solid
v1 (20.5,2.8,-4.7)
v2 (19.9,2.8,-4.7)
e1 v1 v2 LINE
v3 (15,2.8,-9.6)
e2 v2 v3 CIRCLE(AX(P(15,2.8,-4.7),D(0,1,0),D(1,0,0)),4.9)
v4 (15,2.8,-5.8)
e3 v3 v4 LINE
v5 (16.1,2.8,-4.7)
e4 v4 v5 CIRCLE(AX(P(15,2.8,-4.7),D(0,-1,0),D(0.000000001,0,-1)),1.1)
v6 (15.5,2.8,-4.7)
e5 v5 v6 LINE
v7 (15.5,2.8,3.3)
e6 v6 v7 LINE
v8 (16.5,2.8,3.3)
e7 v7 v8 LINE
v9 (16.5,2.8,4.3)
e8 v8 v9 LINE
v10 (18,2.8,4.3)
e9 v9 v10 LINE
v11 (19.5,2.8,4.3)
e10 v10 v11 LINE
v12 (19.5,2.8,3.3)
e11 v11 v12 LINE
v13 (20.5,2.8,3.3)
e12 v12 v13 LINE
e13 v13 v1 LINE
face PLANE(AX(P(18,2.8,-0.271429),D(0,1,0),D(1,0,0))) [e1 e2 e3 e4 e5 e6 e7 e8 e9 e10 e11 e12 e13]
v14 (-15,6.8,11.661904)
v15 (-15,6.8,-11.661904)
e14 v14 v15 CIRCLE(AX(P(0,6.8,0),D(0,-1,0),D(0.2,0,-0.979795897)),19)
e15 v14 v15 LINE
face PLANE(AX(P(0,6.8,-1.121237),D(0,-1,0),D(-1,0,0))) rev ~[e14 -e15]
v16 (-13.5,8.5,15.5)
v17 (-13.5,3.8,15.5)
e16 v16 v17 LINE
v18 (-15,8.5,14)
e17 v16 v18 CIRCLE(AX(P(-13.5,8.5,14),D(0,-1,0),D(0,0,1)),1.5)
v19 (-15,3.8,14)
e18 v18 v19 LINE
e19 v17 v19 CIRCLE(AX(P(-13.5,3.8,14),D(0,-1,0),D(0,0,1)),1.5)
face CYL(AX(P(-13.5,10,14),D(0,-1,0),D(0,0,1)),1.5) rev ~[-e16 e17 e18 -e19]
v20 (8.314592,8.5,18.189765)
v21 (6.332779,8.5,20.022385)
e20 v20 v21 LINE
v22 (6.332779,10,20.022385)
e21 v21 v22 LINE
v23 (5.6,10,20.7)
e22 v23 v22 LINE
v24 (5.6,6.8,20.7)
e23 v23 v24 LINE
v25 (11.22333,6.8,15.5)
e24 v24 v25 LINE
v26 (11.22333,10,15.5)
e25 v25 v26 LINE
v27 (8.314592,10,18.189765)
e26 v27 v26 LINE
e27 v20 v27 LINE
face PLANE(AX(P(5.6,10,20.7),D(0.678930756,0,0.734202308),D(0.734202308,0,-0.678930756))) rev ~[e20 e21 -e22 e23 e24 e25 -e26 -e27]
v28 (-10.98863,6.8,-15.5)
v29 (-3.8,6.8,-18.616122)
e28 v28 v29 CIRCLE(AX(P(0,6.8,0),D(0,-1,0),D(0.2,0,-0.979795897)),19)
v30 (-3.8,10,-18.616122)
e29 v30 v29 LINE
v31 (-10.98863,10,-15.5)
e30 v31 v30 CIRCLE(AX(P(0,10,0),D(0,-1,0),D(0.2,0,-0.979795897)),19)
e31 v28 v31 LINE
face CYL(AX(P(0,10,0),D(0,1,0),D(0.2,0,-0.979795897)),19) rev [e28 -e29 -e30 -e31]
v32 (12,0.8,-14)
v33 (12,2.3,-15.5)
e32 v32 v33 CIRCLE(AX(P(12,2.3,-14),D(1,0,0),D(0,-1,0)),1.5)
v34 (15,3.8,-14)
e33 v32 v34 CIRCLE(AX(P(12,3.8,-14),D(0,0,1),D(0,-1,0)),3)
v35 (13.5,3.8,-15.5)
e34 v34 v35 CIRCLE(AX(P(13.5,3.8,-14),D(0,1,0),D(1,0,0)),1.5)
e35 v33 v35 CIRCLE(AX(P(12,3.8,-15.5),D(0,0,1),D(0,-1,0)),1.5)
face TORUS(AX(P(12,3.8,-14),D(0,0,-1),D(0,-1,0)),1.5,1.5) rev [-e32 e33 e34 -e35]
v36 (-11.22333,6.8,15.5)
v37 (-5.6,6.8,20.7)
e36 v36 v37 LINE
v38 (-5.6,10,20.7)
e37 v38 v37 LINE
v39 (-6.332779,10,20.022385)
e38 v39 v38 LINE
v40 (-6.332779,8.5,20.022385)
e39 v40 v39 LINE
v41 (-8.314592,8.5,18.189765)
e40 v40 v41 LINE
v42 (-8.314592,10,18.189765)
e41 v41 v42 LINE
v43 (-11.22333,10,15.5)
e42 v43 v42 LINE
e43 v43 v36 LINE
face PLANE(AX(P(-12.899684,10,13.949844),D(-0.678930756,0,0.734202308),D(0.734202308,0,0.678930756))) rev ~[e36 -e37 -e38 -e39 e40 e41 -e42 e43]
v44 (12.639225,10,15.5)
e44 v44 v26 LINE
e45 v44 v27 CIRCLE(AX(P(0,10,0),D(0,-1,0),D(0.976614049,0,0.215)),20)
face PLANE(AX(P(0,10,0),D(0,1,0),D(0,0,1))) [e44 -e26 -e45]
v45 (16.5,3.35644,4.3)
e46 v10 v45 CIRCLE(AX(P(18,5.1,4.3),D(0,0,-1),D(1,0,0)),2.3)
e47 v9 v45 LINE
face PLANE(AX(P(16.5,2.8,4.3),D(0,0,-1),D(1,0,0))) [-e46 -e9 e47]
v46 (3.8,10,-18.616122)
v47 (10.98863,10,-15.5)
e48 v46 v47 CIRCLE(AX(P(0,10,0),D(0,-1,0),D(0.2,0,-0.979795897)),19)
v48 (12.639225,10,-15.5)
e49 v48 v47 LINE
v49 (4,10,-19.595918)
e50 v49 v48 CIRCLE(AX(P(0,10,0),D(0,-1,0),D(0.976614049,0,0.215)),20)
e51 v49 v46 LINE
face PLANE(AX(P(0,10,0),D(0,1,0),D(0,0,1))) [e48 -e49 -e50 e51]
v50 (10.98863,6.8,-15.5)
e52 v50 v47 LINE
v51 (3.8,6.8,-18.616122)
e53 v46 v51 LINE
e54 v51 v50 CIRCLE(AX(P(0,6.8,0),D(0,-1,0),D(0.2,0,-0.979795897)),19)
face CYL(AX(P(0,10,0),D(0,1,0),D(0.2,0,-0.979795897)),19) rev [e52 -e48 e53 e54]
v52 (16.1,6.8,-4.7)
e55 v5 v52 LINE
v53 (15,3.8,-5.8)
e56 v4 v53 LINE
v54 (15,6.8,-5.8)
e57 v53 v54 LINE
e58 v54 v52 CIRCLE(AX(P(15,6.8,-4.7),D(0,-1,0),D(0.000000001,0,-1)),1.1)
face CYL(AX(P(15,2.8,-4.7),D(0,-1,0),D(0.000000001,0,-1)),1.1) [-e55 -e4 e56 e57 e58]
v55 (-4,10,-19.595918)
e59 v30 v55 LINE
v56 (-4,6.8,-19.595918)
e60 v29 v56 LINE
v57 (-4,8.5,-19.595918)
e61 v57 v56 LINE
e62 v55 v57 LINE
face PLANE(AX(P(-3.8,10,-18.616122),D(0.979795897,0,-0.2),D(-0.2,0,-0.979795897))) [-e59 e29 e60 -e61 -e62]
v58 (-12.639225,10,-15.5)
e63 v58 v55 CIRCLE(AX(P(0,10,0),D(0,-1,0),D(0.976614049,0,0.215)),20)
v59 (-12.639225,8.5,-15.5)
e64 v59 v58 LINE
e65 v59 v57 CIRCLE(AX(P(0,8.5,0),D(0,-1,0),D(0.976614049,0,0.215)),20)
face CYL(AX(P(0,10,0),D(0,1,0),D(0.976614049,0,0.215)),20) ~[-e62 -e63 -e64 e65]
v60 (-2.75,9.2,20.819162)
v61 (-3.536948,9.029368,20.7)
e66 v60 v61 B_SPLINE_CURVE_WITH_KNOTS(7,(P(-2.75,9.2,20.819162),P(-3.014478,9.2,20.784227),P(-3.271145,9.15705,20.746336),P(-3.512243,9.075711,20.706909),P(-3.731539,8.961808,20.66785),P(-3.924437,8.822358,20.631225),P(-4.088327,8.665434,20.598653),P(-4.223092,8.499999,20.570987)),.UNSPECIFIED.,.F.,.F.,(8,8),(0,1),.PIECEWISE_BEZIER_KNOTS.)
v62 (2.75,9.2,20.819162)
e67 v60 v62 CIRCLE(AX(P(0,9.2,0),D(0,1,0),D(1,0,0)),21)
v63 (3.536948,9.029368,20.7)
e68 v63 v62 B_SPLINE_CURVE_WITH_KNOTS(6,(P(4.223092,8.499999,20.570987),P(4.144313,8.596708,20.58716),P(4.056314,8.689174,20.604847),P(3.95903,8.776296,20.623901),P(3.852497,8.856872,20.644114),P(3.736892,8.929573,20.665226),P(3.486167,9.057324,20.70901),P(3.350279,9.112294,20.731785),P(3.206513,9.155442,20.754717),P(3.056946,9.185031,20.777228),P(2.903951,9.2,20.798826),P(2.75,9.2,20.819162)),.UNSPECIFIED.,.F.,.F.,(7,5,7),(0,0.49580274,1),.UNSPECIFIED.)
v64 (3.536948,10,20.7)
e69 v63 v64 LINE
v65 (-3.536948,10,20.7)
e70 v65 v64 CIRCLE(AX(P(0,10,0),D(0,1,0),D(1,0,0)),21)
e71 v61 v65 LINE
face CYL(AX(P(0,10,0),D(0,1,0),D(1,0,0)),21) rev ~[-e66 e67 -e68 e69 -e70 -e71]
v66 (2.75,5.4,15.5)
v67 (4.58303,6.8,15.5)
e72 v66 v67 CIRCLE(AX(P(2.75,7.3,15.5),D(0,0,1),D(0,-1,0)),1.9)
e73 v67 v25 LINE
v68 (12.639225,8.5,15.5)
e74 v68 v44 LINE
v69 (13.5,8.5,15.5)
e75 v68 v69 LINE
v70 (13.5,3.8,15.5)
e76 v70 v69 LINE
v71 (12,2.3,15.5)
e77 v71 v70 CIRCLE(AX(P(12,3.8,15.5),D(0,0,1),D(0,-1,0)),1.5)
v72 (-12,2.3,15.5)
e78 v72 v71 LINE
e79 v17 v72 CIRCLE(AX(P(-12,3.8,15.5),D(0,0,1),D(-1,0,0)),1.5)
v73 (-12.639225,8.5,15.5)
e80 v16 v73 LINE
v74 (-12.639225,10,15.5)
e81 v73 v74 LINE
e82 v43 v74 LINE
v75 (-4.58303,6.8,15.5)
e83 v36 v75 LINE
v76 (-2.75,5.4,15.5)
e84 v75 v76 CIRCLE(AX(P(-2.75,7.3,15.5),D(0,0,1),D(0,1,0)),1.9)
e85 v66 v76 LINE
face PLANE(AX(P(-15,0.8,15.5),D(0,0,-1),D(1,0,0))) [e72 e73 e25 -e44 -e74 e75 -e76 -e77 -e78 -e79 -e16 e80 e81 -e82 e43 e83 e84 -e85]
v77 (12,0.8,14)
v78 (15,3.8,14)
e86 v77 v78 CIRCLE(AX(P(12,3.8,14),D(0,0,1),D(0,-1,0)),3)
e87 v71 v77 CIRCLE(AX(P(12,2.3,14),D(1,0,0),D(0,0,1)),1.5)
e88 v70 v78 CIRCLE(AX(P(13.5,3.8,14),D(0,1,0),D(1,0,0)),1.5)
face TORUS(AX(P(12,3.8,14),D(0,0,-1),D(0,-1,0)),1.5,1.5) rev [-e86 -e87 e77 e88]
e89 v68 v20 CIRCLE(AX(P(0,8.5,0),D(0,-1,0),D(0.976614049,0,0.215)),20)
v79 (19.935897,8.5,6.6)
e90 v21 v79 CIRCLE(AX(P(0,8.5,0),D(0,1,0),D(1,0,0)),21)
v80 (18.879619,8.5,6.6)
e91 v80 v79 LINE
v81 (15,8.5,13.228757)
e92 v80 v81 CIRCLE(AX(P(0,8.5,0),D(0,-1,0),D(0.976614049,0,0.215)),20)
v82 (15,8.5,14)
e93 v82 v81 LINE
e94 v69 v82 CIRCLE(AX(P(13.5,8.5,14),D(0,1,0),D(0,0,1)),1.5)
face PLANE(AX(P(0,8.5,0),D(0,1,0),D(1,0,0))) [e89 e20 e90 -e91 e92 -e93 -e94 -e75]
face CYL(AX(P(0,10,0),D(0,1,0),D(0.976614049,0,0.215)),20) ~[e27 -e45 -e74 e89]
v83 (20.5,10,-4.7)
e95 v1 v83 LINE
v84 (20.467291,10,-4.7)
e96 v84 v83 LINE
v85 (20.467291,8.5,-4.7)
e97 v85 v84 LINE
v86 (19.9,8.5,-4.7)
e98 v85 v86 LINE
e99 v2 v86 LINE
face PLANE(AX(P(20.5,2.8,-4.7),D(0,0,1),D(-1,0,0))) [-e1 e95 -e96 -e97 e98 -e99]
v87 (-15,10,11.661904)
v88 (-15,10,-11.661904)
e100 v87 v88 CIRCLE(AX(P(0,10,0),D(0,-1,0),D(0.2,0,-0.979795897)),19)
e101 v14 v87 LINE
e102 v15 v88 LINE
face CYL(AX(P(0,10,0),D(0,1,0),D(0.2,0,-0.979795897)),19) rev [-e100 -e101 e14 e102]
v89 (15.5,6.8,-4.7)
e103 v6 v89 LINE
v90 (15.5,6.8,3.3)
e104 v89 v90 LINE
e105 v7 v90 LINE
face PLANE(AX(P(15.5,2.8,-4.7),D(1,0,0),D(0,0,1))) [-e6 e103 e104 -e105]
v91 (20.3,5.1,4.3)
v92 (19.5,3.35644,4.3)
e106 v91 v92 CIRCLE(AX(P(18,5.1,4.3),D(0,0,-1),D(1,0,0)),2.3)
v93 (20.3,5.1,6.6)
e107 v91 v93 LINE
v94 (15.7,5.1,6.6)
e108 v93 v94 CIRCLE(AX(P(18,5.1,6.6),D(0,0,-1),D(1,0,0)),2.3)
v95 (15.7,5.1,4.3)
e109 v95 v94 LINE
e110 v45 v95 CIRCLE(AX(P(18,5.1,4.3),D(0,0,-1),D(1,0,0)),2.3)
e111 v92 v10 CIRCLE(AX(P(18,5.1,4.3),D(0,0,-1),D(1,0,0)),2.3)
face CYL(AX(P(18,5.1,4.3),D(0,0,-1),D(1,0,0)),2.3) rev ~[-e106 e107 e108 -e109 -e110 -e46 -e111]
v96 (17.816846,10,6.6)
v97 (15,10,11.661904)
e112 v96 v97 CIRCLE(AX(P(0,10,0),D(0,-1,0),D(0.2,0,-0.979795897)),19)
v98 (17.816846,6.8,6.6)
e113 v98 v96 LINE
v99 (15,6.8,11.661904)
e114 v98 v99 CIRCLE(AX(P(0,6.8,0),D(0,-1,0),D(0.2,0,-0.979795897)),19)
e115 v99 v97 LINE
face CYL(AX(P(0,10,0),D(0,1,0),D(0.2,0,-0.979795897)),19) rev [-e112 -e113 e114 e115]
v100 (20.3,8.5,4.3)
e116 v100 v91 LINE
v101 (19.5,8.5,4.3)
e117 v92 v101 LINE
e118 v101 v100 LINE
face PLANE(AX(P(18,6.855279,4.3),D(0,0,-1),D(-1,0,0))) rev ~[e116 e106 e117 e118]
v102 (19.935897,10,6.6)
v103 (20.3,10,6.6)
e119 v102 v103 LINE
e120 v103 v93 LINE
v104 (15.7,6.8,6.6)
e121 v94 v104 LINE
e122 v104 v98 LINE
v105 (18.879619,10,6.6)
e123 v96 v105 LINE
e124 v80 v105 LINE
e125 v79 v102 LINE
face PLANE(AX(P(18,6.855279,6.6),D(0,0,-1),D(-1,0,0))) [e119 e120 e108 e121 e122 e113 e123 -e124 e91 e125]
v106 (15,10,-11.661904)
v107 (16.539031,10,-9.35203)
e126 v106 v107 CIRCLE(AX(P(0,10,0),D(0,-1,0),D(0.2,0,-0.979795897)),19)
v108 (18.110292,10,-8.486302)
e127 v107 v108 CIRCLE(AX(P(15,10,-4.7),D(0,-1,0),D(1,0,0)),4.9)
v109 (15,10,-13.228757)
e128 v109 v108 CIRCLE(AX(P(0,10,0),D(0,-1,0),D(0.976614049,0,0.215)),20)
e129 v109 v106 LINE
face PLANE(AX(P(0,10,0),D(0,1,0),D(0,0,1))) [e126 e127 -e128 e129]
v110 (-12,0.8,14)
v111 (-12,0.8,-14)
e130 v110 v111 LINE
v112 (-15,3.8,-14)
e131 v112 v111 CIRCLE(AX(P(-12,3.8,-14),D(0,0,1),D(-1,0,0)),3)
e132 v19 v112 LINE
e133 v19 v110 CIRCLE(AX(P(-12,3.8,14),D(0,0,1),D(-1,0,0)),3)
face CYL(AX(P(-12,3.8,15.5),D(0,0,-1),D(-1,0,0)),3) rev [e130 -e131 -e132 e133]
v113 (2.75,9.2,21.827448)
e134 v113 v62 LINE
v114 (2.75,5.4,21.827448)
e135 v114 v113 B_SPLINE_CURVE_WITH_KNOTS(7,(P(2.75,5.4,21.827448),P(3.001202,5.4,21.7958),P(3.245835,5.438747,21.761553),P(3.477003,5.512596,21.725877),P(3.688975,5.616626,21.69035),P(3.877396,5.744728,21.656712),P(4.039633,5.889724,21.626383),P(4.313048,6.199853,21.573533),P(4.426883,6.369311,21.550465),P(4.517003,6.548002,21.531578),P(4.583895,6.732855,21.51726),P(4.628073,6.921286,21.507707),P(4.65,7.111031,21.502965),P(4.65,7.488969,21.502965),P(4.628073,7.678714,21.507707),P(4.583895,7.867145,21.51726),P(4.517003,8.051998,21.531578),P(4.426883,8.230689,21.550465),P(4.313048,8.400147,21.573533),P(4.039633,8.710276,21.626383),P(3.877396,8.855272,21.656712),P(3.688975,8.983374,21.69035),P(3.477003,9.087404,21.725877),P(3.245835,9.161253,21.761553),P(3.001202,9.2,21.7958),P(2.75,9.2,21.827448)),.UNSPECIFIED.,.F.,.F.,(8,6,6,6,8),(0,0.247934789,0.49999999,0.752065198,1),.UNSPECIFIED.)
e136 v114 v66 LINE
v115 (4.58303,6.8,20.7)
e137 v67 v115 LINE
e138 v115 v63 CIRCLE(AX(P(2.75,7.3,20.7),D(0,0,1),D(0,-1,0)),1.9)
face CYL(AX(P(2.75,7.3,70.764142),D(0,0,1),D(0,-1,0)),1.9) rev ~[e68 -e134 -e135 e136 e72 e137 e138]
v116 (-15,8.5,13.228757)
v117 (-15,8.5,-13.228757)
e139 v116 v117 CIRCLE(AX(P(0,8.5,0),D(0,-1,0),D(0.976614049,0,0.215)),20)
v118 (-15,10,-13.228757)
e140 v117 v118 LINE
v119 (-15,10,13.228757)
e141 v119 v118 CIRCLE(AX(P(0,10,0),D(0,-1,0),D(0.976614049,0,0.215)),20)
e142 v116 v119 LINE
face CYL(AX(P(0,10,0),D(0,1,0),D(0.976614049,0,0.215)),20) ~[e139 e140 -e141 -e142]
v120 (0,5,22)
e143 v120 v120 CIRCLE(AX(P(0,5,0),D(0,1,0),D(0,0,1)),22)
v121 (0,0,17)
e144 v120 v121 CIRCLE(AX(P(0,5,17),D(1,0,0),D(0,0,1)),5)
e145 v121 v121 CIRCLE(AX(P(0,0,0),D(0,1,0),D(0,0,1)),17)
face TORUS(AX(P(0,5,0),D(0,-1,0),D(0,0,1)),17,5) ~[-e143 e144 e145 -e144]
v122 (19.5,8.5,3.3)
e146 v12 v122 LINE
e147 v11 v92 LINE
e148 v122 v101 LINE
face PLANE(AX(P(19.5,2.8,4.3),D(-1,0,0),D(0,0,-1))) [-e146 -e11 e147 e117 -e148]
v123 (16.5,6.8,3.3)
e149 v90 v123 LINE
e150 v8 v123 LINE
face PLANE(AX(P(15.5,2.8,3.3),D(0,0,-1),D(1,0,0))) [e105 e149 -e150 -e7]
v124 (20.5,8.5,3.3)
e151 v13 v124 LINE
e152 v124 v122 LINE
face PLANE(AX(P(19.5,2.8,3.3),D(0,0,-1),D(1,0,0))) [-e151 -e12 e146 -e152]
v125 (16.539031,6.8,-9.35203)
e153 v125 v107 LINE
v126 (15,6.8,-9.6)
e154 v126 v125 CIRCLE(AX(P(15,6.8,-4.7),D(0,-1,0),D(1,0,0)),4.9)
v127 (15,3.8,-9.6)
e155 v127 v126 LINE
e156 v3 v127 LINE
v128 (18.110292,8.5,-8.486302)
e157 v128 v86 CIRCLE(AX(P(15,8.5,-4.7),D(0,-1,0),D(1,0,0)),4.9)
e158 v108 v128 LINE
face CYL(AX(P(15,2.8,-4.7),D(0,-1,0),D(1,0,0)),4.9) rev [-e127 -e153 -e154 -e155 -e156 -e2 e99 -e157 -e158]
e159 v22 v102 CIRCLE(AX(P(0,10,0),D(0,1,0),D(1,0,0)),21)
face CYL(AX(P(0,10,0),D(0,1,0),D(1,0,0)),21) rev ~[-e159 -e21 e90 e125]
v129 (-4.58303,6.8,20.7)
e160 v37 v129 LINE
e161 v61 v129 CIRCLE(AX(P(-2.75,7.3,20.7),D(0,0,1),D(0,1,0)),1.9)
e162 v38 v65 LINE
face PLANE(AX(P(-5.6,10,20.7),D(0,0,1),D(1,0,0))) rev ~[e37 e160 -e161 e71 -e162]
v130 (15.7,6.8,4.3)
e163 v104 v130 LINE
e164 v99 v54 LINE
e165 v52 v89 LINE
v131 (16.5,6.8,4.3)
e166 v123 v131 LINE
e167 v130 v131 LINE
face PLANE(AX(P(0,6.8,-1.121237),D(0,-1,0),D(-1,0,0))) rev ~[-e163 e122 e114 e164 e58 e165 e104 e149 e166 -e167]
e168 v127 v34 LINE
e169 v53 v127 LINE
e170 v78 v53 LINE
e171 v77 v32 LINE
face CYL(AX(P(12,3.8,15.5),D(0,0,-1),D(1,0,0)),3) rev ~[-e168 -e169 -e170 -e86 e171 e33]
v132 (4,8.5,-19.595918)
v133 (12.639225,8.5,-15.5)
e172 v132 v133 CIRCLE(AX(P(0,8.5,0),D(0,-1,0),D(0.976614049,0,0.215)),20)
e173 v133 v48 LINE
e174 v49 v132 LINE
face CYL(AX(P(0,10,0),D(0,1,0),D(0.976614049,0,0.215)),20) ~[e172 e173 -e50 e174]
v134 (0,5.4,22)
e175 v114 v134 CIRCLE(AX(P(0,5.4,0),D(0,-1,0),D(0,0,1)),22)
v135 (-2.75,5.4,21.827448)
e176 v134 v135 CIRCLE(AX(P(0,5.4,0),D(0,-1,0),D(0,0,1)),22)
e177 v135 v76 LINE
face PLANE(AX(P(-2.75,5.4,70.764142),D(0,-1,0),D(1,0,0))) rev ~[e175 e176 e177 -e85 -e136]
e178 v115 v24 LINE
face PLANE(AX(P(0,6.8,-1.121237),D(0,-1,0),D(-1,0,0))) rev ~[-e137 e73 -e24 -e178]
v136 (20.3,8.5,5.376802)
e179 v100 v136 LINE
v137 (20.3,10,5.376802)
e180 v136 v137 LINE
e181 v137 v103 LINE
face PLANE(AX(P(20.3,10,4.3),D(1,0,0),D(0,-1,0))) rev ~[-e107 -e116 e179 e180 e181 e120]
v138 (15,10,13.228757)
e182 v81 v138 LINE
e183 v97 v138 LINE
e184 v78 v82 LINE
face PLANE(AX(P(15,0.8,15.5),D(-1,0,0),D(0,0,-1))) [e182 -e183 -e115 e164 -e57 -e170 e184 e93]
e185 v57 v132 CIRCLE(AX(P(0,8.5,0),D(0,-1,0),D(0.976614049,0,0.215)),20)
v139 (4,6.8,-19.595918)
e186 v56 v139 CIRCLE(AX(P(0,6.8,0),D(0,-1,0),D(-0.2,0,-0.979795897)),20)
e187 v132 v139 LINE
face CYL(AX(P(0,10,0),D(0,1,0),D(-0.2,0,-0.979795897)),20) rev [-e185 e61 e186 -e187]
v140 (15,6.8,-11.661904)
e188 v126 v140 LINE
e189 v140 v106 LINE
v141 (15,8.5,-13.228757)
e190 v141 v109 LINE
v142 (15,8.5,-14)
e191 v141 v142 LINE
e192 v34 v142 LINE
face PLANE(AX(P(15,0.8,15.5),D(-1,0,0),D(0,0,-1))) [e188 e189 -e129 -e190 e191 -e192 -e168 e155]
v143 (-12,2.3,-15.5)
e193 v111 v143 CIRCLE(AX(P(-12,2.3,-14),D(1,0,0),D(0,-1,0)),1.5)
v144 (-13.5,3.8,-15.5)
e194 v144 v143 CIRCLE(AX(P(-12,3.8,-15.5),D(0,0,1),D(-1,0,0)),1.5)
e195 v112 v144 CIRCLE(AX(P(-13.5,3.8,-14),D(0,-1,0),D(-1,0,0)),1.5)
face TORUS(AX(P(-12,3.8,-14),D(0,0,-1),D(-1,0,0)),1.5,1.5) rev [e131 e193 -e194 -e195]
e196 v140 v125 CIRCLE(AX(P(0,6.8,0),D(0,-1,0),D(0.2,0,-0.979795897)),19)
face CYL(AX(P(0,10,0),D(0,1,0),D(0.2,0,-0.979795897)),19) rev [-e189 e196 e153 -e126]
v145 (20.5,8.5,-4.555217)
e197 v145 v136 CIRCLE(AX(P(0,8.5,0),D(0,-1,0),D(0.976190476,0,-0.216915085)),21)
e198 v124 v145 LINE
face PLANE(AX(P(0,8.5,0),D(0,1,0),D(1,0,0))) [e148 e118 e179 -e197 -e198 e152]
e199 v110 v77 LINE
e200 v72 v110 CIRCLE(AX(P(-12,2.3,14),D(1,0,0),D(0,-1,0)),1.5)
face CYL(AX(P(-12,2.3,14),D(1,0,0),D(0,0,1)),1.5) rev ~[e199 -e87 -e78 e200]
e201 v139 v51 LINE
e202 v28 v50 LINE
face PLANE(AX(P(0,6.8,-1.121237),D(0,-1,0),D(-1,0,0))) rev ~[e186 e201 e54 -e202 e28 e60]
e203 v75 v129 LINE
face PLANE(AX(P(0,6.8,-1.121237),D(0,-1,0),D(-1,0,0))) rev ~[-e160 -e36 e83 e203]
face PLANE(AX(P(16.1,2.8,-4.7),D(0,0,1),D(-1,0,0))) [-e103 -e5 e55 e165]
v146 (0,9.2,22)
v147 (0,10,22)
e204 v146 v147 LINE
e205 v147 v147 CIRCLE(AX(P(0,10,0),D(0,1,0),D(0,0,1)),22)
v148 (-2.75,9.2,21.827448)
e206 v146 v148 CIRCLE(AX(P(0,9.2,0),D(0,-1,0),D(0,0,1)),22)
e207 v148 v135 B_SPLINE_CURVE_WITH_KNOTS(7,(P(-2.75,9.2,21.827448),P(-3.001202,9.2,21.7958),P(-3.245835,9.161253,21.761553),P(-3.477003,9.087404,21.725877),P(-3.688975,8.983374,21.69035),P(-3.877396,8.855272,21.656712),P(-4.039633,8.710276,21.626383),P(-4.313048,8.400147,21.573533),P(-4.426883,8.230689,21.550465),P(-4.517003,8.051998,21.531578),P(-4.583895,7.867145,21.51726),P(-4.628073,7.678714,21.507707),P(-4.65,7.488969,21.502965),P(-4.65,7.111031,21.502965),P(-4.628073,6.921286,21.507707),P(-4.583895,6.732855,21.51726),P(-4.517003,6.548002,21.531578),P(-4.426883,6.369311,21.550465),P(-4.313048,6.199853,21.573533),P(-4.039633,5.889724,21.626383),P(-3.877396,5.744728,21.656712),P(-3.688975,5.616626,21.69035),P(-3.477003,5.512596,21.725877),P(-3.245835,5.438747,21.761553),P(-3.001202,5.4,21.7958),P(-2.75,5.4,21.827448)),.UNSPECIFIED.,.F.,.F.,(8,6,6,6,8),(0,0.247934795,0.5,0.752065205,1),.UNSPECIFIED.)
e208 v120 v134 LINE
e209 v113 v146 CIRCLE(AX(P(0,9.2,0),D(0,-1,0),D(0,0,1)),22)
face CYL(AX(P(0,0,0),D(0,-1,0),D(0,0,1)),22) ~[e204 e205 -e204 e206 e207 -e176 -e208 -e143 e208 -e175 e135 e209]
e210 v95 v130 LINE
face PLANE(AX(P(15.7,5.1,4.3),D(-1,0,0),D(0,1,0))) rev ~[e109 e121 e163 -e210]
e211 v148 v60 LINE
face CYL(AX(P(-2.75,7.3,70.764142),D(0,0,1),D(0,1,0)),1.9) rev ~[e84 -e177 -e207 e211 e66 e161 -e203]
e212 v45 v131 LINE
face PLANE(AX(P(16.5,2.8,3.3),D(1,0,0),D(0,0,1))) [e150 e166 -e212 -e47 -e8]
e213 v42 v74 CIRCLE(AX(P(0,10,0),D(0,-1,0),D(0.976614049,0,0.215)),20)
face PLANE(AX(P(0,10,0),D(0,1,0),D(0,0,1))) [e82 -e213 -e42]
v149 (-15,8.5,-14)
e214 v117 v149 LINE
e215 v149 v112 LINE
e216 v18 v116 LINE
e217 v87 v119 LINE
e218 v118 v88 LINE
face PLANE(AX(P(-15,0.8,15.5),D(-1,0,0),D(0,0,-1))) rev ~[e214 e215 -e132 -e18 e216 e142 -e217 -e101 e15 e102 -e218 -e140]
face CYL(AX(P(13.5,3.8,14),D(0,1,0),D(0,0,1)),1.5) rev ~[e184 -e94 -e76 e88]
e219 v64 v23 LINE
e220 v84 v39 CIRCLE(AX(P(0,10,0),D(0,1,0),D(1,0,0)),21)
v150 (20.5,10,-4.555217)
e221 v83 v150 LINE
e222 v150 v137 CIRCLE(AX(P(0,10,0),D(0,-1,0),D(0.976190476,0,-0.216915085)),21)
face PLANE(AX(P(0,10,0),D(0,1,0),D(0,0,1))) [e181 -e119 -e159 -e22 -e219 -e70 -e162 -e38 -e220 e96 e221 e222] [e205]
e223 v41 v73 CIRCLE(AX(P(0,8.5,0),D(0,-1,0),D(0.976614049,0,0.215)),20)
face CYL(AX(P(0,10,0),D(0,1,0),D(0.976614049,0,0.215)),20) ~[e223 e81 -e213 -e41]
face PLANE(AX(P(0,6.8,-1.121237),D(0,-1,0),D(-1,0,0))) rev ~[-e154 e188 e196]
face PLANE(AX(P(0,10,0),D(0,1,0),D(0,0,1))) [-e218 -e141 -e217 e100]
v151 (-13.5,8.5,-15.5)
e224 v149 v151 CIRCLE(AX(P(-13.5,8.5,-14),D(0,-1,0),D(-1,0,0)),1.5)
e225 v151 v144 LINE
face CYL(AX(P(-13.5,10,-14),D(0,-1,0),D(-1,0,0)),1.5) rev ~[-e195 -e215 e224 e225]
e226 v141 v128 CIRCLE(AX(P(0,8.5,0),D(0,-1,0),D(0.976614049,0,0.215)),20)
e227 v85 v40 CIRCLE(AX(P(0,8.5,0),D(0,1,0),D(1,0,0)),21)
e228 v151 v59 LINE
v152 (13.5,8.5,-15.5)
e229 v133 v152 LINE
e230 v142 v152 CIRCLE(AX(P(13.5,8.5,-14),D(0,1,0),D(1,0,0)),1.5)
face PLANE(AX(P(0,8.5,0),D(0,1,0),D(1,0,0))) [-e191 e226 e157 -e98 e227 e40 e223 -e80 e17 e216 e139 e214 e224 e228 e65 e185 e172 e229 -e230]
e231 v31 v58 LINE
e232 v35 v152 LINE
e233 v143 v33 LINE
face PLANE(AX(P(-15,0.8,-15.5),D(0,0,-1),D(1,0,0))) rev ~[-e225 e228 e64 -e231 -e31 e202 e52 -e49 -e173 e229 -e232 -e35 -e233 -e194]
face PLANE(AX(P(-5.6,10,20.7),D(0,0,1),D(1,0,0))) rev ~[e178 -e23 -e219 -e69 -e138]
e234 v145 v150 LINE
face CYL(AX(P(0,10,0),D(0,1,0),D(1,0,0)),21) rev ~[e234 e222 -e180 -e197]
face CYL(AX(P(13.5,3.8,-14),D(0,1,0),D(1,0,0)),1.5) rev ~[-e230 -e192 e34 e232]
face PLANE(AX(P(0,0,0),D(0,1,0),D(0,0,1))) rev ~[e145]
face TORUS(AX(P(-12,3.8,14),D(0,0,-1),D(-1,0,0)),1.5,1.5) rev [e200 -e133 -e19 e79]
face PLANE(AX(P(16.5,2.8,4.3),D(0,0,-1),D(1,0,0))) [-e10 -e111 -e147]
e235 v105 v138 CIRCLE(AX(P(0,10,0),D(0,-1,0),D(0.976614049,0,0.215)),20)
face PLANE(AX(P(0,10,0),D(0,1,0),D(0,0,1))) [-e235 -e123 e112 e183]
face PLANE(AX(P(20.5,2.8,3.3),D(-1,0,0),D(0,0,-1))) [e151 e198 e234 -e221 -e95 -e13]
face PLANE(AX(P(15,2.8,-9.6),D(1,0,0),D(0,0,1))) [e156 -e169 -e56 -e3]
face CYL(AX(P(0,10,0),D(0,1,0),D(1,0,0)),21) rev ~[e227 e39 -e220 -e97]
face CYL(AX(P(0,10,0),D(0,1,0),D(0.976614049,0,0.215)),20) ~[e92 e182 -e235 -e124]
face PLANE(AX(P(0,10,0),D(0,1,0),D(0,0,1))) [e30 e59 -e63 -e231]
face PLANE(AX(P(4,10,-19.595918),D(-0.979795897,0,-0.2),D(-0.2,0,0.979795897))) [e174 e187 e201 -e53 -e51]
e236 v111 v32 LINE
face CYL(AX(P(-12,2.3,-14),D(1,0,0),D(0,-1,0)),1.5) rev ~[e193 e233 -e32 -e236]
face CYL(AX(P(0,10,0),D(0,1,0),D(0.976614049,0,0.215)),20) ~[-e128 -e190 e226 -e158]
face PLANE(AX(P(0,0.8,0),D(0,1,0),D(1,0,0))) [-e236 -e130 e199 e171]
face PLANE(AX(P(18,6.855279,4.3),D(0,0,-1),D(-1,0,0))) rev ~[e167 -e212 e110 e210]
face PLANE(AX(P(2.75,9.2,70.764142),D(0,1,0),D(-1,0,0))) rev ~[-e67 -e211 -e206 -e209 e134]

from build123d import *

# Parameters (mm, degrees)
SKETCH1_R               = 22
BOSS_EXTRUDE1_DEPTH     = 10
CUT_EXTRUDE1_DEPTH      = 3.2
CUT_EXTRUDE2_DEPTH      = 32.847134879
CUT_EXTRUDE2_DEPTH_BACK = 6
SKETCH3_W               = 30
SKETCH3_H               = 31
CUT_EXTRUDE3_DEPTH      = 6
CUT_EXTRUDE3_DEPTH_BACK = 50.064141692
FILLET1_R               = 3
FILLET2_R               = 1.5
FILLET3_R               = 5
CUT_EXTRUDE4_DEPTH      = 32.847135017
CUT_EXTRUDE4_DEPTH_BACK = 4
CUT_EXTRUDE6_DEPTH      = 2.3
SKETCH10_R              = 21
CUT_EXTRUDE5_DEPTH      = 1.5


with BuildPart() as part:
    # Sketch1 → Boss-Extrude1 (new body)
    with BuildSketch(Plane(origin=(0, 0, 0), x_dir=(1, 0, 0), z_dir=(0, 1, 0))):
        with Locations(Location((0, 0, 0), (0, 0, 270))):
            Circle(SKETCH1_R)
    extrude(amount=BOSS_EXTRUDE1_DEPTH)

    # Sketch2 → Cut-Extrude1 (cut)
    with BuildSketch(Plane(origin=(0, 10, 0), x_dir=(1, 0, 0), z_dir=(0, 1, 0))):
        with BuildLine():
            Line((4, 19.595917942), (3.8, 18.616122045))
            ThreePointArc((3.8, 18.616122045), (0, -19), (-3.8, 18.616122045))
            Line((-3.8, 18.616122045), (-4, 19.595917942))
            ThreePointArc((-4, 19.595917942), (0, 20), (4, 19.595917942))
        make_face()
        with BuildLine():
            ThreePointArc((12.899684367, -13.949843843), (0, -19), (-12.899684367, -13.949843843))
            Line((-12.899684367, -13.949843843), (-5.6, -20.7))
            Line((-5.6, -20.7), (5.6, -20.7))
            Line((5.6, -20.7), (12.899684367, -13.949843843))
        make_face()
    extrude(amount=-CUT_EXTRUDE1_DEPTH, mode=Mode.SUBTRACT)

    # Sketch3 → Cut-Extrude2 (cut, two sides: drawn at the far end of the back side and taken through both)
    with BuildSketch(Plane(origin=(0, 6.8, 0), x_dir=(1, 0, 0), z_dir=(0, 1, 0)).offset(-CUT_EXTRUDE2_DEPTH_BACK)):
        Rectangle(SKETCH3_W, SKETCH3_H)
    extrude(amount=CUT_EXTRUDE2_DEPTH + CUT_EXTRUDE2_DEPTH_BACK, mode=Mode.SUBTRACT)

    # Sketch5 → Cut-Extrude3 (cut, two sides: drawn at the far end of the back side and taken through both)
    with BuildSketch(Plane(origin=(0, 0, 20.7), x_dir=(-1, 0, 0), z_dir=(0, 0, -1)).offset(-CUT_EXTRUDE3_DEPTH_BACK)):
        with BuildLine():
            Line((-2.75, 9.2), (2.75, 9.2))
            ThreePointArc((2.75, 9.2), (4.65, 7.3), (2.75, 5.4))
            Line((2.75, 5.4), (-2.75, 5.4))
            ThreePointArc((-2.75, 5.4), (-4.65, 7.3), (-2.75, 9.2))
        make_face()
    extrude(amount=CUT_EXTRUDE3_DEPTH + CUT_EXTRUDE3_DEPTH_BACK, mode=Mode.SUBTRACT)

    # Fillet1
    fillet1_edges = [part.edges().sort_by_distance(p)[0] for p in [
        (-15, 0.8, 0),
        (15, 0.8, 0),
    ]]
    fillet(fillet1_edges, radius=FILLET1_R)

    # Fillet2
    fillet2_edges = [part.edges().sort_by_distance(p)[0] for p in [
        (0, 0.8, 15.5),
        (0, 0.8, -15.5),
        (14.121320344, 1.678679656, 15.5),
        (-14.121320344, 1.678679656, 15.5),
        (14.121320344, 1.678679656, -15.5),
        (-14.121320344, 1.678679656, -15.5),
        (-15, 6.9, -15.5),
        (-15, 6.9, 15.5),
        (15, 6.9, 15.5),
        (15, 6.9, -15.5),
    ]]
    fillet(fillet2_edges, radius=FILLET2_R)

    # Fillet3
    fillet3_edges = [part.edges().sort_by_distance(p)[0] for p in [
        (0, 0, -22),
    ]]
    fillet(fillet3_edges, radius=FILLET3_R)

    # Sketch6 → Cut-Extrude4 (cut, two sides: drawn at the far end of the back side and taken through both)
    with BuildSketch(Plane(origin=(0, 6.8, 0), x_dir=(1, 0, 0), z_dir=(0, 1, 0)).offset(-CUT_EXTRUDE4_DEPTH_BACK)):
        Polygon((16.5, -3.3), (16.5, -4.3), (19.5, -4.3), (19.5, -3.3), (20.5, -3.3), (20.5, 4.7), (19.9, 4.7), (16.1, 4.7), (15.5, 4.7), (15.5, -3.3), align=None)
        with BuildLine():
            ThreePointArc((15, 5.8), (15.777817459, 5.477817459), (16.1, 4.7))
            Line((16.1, 4.7), (19.9, 4.7))
            ThreePointArc((19.9, 4.7), (18.464823228, 8.164823228), (15, 9.6))
            Line((15, 9.6), (15, 5.8))
        make_face()
    extrude(amount=CUT_EXTRUDE4_DEPTH + CUT_EXTRUDE4_DEPTH_BACK, mode=Mode.SUBTRACT)

    # Sketch11 → Cut-Extrude6 (cut)
    with BuildSketch(Plane.XY.offset(4.3)):
        with BuildLine():
            Line((15.7, 5.1), (15.7, 10))
            Line((15.7, 10), (20.3, 10))
            Line((20.3, 10), (20.3, 5.1))
            ThreePointArc((20.3, 5.1), (18, 2.8), (15.7, 5.1))
        make_face()
    extrude(amount=CUT_EXTRUDE6_DEPTH, mode=Mode.SUBTRACT)

    # Sketch10 → Cut-Extrude5 (cut)
    with BuildSketch(Plane(origin=(0, 10, 0), x_dir=(1, 0, 0), z_dir=(0, 1, 0))):
        Circle(SKETCH10_R)
        with BuildLine():
            Line((19.5, -4.3), (19.532280973, -4.3))
            ThreePointArc((19.532280973, -4.3), (-19.635443226, 3.801232604), (19.725871337, -3.3))
            Line((19.725871337, -3.3), (19.5, -3.3))
            Line((19.5, -3.3), (19.5, -4.3))
        make_face(mode=Mode.SUBTRACT)
    extrude(amount=-CUT_EXTRUDE5_DEPTH, mode=Mode.SUBTRACT)


solid = part.part
